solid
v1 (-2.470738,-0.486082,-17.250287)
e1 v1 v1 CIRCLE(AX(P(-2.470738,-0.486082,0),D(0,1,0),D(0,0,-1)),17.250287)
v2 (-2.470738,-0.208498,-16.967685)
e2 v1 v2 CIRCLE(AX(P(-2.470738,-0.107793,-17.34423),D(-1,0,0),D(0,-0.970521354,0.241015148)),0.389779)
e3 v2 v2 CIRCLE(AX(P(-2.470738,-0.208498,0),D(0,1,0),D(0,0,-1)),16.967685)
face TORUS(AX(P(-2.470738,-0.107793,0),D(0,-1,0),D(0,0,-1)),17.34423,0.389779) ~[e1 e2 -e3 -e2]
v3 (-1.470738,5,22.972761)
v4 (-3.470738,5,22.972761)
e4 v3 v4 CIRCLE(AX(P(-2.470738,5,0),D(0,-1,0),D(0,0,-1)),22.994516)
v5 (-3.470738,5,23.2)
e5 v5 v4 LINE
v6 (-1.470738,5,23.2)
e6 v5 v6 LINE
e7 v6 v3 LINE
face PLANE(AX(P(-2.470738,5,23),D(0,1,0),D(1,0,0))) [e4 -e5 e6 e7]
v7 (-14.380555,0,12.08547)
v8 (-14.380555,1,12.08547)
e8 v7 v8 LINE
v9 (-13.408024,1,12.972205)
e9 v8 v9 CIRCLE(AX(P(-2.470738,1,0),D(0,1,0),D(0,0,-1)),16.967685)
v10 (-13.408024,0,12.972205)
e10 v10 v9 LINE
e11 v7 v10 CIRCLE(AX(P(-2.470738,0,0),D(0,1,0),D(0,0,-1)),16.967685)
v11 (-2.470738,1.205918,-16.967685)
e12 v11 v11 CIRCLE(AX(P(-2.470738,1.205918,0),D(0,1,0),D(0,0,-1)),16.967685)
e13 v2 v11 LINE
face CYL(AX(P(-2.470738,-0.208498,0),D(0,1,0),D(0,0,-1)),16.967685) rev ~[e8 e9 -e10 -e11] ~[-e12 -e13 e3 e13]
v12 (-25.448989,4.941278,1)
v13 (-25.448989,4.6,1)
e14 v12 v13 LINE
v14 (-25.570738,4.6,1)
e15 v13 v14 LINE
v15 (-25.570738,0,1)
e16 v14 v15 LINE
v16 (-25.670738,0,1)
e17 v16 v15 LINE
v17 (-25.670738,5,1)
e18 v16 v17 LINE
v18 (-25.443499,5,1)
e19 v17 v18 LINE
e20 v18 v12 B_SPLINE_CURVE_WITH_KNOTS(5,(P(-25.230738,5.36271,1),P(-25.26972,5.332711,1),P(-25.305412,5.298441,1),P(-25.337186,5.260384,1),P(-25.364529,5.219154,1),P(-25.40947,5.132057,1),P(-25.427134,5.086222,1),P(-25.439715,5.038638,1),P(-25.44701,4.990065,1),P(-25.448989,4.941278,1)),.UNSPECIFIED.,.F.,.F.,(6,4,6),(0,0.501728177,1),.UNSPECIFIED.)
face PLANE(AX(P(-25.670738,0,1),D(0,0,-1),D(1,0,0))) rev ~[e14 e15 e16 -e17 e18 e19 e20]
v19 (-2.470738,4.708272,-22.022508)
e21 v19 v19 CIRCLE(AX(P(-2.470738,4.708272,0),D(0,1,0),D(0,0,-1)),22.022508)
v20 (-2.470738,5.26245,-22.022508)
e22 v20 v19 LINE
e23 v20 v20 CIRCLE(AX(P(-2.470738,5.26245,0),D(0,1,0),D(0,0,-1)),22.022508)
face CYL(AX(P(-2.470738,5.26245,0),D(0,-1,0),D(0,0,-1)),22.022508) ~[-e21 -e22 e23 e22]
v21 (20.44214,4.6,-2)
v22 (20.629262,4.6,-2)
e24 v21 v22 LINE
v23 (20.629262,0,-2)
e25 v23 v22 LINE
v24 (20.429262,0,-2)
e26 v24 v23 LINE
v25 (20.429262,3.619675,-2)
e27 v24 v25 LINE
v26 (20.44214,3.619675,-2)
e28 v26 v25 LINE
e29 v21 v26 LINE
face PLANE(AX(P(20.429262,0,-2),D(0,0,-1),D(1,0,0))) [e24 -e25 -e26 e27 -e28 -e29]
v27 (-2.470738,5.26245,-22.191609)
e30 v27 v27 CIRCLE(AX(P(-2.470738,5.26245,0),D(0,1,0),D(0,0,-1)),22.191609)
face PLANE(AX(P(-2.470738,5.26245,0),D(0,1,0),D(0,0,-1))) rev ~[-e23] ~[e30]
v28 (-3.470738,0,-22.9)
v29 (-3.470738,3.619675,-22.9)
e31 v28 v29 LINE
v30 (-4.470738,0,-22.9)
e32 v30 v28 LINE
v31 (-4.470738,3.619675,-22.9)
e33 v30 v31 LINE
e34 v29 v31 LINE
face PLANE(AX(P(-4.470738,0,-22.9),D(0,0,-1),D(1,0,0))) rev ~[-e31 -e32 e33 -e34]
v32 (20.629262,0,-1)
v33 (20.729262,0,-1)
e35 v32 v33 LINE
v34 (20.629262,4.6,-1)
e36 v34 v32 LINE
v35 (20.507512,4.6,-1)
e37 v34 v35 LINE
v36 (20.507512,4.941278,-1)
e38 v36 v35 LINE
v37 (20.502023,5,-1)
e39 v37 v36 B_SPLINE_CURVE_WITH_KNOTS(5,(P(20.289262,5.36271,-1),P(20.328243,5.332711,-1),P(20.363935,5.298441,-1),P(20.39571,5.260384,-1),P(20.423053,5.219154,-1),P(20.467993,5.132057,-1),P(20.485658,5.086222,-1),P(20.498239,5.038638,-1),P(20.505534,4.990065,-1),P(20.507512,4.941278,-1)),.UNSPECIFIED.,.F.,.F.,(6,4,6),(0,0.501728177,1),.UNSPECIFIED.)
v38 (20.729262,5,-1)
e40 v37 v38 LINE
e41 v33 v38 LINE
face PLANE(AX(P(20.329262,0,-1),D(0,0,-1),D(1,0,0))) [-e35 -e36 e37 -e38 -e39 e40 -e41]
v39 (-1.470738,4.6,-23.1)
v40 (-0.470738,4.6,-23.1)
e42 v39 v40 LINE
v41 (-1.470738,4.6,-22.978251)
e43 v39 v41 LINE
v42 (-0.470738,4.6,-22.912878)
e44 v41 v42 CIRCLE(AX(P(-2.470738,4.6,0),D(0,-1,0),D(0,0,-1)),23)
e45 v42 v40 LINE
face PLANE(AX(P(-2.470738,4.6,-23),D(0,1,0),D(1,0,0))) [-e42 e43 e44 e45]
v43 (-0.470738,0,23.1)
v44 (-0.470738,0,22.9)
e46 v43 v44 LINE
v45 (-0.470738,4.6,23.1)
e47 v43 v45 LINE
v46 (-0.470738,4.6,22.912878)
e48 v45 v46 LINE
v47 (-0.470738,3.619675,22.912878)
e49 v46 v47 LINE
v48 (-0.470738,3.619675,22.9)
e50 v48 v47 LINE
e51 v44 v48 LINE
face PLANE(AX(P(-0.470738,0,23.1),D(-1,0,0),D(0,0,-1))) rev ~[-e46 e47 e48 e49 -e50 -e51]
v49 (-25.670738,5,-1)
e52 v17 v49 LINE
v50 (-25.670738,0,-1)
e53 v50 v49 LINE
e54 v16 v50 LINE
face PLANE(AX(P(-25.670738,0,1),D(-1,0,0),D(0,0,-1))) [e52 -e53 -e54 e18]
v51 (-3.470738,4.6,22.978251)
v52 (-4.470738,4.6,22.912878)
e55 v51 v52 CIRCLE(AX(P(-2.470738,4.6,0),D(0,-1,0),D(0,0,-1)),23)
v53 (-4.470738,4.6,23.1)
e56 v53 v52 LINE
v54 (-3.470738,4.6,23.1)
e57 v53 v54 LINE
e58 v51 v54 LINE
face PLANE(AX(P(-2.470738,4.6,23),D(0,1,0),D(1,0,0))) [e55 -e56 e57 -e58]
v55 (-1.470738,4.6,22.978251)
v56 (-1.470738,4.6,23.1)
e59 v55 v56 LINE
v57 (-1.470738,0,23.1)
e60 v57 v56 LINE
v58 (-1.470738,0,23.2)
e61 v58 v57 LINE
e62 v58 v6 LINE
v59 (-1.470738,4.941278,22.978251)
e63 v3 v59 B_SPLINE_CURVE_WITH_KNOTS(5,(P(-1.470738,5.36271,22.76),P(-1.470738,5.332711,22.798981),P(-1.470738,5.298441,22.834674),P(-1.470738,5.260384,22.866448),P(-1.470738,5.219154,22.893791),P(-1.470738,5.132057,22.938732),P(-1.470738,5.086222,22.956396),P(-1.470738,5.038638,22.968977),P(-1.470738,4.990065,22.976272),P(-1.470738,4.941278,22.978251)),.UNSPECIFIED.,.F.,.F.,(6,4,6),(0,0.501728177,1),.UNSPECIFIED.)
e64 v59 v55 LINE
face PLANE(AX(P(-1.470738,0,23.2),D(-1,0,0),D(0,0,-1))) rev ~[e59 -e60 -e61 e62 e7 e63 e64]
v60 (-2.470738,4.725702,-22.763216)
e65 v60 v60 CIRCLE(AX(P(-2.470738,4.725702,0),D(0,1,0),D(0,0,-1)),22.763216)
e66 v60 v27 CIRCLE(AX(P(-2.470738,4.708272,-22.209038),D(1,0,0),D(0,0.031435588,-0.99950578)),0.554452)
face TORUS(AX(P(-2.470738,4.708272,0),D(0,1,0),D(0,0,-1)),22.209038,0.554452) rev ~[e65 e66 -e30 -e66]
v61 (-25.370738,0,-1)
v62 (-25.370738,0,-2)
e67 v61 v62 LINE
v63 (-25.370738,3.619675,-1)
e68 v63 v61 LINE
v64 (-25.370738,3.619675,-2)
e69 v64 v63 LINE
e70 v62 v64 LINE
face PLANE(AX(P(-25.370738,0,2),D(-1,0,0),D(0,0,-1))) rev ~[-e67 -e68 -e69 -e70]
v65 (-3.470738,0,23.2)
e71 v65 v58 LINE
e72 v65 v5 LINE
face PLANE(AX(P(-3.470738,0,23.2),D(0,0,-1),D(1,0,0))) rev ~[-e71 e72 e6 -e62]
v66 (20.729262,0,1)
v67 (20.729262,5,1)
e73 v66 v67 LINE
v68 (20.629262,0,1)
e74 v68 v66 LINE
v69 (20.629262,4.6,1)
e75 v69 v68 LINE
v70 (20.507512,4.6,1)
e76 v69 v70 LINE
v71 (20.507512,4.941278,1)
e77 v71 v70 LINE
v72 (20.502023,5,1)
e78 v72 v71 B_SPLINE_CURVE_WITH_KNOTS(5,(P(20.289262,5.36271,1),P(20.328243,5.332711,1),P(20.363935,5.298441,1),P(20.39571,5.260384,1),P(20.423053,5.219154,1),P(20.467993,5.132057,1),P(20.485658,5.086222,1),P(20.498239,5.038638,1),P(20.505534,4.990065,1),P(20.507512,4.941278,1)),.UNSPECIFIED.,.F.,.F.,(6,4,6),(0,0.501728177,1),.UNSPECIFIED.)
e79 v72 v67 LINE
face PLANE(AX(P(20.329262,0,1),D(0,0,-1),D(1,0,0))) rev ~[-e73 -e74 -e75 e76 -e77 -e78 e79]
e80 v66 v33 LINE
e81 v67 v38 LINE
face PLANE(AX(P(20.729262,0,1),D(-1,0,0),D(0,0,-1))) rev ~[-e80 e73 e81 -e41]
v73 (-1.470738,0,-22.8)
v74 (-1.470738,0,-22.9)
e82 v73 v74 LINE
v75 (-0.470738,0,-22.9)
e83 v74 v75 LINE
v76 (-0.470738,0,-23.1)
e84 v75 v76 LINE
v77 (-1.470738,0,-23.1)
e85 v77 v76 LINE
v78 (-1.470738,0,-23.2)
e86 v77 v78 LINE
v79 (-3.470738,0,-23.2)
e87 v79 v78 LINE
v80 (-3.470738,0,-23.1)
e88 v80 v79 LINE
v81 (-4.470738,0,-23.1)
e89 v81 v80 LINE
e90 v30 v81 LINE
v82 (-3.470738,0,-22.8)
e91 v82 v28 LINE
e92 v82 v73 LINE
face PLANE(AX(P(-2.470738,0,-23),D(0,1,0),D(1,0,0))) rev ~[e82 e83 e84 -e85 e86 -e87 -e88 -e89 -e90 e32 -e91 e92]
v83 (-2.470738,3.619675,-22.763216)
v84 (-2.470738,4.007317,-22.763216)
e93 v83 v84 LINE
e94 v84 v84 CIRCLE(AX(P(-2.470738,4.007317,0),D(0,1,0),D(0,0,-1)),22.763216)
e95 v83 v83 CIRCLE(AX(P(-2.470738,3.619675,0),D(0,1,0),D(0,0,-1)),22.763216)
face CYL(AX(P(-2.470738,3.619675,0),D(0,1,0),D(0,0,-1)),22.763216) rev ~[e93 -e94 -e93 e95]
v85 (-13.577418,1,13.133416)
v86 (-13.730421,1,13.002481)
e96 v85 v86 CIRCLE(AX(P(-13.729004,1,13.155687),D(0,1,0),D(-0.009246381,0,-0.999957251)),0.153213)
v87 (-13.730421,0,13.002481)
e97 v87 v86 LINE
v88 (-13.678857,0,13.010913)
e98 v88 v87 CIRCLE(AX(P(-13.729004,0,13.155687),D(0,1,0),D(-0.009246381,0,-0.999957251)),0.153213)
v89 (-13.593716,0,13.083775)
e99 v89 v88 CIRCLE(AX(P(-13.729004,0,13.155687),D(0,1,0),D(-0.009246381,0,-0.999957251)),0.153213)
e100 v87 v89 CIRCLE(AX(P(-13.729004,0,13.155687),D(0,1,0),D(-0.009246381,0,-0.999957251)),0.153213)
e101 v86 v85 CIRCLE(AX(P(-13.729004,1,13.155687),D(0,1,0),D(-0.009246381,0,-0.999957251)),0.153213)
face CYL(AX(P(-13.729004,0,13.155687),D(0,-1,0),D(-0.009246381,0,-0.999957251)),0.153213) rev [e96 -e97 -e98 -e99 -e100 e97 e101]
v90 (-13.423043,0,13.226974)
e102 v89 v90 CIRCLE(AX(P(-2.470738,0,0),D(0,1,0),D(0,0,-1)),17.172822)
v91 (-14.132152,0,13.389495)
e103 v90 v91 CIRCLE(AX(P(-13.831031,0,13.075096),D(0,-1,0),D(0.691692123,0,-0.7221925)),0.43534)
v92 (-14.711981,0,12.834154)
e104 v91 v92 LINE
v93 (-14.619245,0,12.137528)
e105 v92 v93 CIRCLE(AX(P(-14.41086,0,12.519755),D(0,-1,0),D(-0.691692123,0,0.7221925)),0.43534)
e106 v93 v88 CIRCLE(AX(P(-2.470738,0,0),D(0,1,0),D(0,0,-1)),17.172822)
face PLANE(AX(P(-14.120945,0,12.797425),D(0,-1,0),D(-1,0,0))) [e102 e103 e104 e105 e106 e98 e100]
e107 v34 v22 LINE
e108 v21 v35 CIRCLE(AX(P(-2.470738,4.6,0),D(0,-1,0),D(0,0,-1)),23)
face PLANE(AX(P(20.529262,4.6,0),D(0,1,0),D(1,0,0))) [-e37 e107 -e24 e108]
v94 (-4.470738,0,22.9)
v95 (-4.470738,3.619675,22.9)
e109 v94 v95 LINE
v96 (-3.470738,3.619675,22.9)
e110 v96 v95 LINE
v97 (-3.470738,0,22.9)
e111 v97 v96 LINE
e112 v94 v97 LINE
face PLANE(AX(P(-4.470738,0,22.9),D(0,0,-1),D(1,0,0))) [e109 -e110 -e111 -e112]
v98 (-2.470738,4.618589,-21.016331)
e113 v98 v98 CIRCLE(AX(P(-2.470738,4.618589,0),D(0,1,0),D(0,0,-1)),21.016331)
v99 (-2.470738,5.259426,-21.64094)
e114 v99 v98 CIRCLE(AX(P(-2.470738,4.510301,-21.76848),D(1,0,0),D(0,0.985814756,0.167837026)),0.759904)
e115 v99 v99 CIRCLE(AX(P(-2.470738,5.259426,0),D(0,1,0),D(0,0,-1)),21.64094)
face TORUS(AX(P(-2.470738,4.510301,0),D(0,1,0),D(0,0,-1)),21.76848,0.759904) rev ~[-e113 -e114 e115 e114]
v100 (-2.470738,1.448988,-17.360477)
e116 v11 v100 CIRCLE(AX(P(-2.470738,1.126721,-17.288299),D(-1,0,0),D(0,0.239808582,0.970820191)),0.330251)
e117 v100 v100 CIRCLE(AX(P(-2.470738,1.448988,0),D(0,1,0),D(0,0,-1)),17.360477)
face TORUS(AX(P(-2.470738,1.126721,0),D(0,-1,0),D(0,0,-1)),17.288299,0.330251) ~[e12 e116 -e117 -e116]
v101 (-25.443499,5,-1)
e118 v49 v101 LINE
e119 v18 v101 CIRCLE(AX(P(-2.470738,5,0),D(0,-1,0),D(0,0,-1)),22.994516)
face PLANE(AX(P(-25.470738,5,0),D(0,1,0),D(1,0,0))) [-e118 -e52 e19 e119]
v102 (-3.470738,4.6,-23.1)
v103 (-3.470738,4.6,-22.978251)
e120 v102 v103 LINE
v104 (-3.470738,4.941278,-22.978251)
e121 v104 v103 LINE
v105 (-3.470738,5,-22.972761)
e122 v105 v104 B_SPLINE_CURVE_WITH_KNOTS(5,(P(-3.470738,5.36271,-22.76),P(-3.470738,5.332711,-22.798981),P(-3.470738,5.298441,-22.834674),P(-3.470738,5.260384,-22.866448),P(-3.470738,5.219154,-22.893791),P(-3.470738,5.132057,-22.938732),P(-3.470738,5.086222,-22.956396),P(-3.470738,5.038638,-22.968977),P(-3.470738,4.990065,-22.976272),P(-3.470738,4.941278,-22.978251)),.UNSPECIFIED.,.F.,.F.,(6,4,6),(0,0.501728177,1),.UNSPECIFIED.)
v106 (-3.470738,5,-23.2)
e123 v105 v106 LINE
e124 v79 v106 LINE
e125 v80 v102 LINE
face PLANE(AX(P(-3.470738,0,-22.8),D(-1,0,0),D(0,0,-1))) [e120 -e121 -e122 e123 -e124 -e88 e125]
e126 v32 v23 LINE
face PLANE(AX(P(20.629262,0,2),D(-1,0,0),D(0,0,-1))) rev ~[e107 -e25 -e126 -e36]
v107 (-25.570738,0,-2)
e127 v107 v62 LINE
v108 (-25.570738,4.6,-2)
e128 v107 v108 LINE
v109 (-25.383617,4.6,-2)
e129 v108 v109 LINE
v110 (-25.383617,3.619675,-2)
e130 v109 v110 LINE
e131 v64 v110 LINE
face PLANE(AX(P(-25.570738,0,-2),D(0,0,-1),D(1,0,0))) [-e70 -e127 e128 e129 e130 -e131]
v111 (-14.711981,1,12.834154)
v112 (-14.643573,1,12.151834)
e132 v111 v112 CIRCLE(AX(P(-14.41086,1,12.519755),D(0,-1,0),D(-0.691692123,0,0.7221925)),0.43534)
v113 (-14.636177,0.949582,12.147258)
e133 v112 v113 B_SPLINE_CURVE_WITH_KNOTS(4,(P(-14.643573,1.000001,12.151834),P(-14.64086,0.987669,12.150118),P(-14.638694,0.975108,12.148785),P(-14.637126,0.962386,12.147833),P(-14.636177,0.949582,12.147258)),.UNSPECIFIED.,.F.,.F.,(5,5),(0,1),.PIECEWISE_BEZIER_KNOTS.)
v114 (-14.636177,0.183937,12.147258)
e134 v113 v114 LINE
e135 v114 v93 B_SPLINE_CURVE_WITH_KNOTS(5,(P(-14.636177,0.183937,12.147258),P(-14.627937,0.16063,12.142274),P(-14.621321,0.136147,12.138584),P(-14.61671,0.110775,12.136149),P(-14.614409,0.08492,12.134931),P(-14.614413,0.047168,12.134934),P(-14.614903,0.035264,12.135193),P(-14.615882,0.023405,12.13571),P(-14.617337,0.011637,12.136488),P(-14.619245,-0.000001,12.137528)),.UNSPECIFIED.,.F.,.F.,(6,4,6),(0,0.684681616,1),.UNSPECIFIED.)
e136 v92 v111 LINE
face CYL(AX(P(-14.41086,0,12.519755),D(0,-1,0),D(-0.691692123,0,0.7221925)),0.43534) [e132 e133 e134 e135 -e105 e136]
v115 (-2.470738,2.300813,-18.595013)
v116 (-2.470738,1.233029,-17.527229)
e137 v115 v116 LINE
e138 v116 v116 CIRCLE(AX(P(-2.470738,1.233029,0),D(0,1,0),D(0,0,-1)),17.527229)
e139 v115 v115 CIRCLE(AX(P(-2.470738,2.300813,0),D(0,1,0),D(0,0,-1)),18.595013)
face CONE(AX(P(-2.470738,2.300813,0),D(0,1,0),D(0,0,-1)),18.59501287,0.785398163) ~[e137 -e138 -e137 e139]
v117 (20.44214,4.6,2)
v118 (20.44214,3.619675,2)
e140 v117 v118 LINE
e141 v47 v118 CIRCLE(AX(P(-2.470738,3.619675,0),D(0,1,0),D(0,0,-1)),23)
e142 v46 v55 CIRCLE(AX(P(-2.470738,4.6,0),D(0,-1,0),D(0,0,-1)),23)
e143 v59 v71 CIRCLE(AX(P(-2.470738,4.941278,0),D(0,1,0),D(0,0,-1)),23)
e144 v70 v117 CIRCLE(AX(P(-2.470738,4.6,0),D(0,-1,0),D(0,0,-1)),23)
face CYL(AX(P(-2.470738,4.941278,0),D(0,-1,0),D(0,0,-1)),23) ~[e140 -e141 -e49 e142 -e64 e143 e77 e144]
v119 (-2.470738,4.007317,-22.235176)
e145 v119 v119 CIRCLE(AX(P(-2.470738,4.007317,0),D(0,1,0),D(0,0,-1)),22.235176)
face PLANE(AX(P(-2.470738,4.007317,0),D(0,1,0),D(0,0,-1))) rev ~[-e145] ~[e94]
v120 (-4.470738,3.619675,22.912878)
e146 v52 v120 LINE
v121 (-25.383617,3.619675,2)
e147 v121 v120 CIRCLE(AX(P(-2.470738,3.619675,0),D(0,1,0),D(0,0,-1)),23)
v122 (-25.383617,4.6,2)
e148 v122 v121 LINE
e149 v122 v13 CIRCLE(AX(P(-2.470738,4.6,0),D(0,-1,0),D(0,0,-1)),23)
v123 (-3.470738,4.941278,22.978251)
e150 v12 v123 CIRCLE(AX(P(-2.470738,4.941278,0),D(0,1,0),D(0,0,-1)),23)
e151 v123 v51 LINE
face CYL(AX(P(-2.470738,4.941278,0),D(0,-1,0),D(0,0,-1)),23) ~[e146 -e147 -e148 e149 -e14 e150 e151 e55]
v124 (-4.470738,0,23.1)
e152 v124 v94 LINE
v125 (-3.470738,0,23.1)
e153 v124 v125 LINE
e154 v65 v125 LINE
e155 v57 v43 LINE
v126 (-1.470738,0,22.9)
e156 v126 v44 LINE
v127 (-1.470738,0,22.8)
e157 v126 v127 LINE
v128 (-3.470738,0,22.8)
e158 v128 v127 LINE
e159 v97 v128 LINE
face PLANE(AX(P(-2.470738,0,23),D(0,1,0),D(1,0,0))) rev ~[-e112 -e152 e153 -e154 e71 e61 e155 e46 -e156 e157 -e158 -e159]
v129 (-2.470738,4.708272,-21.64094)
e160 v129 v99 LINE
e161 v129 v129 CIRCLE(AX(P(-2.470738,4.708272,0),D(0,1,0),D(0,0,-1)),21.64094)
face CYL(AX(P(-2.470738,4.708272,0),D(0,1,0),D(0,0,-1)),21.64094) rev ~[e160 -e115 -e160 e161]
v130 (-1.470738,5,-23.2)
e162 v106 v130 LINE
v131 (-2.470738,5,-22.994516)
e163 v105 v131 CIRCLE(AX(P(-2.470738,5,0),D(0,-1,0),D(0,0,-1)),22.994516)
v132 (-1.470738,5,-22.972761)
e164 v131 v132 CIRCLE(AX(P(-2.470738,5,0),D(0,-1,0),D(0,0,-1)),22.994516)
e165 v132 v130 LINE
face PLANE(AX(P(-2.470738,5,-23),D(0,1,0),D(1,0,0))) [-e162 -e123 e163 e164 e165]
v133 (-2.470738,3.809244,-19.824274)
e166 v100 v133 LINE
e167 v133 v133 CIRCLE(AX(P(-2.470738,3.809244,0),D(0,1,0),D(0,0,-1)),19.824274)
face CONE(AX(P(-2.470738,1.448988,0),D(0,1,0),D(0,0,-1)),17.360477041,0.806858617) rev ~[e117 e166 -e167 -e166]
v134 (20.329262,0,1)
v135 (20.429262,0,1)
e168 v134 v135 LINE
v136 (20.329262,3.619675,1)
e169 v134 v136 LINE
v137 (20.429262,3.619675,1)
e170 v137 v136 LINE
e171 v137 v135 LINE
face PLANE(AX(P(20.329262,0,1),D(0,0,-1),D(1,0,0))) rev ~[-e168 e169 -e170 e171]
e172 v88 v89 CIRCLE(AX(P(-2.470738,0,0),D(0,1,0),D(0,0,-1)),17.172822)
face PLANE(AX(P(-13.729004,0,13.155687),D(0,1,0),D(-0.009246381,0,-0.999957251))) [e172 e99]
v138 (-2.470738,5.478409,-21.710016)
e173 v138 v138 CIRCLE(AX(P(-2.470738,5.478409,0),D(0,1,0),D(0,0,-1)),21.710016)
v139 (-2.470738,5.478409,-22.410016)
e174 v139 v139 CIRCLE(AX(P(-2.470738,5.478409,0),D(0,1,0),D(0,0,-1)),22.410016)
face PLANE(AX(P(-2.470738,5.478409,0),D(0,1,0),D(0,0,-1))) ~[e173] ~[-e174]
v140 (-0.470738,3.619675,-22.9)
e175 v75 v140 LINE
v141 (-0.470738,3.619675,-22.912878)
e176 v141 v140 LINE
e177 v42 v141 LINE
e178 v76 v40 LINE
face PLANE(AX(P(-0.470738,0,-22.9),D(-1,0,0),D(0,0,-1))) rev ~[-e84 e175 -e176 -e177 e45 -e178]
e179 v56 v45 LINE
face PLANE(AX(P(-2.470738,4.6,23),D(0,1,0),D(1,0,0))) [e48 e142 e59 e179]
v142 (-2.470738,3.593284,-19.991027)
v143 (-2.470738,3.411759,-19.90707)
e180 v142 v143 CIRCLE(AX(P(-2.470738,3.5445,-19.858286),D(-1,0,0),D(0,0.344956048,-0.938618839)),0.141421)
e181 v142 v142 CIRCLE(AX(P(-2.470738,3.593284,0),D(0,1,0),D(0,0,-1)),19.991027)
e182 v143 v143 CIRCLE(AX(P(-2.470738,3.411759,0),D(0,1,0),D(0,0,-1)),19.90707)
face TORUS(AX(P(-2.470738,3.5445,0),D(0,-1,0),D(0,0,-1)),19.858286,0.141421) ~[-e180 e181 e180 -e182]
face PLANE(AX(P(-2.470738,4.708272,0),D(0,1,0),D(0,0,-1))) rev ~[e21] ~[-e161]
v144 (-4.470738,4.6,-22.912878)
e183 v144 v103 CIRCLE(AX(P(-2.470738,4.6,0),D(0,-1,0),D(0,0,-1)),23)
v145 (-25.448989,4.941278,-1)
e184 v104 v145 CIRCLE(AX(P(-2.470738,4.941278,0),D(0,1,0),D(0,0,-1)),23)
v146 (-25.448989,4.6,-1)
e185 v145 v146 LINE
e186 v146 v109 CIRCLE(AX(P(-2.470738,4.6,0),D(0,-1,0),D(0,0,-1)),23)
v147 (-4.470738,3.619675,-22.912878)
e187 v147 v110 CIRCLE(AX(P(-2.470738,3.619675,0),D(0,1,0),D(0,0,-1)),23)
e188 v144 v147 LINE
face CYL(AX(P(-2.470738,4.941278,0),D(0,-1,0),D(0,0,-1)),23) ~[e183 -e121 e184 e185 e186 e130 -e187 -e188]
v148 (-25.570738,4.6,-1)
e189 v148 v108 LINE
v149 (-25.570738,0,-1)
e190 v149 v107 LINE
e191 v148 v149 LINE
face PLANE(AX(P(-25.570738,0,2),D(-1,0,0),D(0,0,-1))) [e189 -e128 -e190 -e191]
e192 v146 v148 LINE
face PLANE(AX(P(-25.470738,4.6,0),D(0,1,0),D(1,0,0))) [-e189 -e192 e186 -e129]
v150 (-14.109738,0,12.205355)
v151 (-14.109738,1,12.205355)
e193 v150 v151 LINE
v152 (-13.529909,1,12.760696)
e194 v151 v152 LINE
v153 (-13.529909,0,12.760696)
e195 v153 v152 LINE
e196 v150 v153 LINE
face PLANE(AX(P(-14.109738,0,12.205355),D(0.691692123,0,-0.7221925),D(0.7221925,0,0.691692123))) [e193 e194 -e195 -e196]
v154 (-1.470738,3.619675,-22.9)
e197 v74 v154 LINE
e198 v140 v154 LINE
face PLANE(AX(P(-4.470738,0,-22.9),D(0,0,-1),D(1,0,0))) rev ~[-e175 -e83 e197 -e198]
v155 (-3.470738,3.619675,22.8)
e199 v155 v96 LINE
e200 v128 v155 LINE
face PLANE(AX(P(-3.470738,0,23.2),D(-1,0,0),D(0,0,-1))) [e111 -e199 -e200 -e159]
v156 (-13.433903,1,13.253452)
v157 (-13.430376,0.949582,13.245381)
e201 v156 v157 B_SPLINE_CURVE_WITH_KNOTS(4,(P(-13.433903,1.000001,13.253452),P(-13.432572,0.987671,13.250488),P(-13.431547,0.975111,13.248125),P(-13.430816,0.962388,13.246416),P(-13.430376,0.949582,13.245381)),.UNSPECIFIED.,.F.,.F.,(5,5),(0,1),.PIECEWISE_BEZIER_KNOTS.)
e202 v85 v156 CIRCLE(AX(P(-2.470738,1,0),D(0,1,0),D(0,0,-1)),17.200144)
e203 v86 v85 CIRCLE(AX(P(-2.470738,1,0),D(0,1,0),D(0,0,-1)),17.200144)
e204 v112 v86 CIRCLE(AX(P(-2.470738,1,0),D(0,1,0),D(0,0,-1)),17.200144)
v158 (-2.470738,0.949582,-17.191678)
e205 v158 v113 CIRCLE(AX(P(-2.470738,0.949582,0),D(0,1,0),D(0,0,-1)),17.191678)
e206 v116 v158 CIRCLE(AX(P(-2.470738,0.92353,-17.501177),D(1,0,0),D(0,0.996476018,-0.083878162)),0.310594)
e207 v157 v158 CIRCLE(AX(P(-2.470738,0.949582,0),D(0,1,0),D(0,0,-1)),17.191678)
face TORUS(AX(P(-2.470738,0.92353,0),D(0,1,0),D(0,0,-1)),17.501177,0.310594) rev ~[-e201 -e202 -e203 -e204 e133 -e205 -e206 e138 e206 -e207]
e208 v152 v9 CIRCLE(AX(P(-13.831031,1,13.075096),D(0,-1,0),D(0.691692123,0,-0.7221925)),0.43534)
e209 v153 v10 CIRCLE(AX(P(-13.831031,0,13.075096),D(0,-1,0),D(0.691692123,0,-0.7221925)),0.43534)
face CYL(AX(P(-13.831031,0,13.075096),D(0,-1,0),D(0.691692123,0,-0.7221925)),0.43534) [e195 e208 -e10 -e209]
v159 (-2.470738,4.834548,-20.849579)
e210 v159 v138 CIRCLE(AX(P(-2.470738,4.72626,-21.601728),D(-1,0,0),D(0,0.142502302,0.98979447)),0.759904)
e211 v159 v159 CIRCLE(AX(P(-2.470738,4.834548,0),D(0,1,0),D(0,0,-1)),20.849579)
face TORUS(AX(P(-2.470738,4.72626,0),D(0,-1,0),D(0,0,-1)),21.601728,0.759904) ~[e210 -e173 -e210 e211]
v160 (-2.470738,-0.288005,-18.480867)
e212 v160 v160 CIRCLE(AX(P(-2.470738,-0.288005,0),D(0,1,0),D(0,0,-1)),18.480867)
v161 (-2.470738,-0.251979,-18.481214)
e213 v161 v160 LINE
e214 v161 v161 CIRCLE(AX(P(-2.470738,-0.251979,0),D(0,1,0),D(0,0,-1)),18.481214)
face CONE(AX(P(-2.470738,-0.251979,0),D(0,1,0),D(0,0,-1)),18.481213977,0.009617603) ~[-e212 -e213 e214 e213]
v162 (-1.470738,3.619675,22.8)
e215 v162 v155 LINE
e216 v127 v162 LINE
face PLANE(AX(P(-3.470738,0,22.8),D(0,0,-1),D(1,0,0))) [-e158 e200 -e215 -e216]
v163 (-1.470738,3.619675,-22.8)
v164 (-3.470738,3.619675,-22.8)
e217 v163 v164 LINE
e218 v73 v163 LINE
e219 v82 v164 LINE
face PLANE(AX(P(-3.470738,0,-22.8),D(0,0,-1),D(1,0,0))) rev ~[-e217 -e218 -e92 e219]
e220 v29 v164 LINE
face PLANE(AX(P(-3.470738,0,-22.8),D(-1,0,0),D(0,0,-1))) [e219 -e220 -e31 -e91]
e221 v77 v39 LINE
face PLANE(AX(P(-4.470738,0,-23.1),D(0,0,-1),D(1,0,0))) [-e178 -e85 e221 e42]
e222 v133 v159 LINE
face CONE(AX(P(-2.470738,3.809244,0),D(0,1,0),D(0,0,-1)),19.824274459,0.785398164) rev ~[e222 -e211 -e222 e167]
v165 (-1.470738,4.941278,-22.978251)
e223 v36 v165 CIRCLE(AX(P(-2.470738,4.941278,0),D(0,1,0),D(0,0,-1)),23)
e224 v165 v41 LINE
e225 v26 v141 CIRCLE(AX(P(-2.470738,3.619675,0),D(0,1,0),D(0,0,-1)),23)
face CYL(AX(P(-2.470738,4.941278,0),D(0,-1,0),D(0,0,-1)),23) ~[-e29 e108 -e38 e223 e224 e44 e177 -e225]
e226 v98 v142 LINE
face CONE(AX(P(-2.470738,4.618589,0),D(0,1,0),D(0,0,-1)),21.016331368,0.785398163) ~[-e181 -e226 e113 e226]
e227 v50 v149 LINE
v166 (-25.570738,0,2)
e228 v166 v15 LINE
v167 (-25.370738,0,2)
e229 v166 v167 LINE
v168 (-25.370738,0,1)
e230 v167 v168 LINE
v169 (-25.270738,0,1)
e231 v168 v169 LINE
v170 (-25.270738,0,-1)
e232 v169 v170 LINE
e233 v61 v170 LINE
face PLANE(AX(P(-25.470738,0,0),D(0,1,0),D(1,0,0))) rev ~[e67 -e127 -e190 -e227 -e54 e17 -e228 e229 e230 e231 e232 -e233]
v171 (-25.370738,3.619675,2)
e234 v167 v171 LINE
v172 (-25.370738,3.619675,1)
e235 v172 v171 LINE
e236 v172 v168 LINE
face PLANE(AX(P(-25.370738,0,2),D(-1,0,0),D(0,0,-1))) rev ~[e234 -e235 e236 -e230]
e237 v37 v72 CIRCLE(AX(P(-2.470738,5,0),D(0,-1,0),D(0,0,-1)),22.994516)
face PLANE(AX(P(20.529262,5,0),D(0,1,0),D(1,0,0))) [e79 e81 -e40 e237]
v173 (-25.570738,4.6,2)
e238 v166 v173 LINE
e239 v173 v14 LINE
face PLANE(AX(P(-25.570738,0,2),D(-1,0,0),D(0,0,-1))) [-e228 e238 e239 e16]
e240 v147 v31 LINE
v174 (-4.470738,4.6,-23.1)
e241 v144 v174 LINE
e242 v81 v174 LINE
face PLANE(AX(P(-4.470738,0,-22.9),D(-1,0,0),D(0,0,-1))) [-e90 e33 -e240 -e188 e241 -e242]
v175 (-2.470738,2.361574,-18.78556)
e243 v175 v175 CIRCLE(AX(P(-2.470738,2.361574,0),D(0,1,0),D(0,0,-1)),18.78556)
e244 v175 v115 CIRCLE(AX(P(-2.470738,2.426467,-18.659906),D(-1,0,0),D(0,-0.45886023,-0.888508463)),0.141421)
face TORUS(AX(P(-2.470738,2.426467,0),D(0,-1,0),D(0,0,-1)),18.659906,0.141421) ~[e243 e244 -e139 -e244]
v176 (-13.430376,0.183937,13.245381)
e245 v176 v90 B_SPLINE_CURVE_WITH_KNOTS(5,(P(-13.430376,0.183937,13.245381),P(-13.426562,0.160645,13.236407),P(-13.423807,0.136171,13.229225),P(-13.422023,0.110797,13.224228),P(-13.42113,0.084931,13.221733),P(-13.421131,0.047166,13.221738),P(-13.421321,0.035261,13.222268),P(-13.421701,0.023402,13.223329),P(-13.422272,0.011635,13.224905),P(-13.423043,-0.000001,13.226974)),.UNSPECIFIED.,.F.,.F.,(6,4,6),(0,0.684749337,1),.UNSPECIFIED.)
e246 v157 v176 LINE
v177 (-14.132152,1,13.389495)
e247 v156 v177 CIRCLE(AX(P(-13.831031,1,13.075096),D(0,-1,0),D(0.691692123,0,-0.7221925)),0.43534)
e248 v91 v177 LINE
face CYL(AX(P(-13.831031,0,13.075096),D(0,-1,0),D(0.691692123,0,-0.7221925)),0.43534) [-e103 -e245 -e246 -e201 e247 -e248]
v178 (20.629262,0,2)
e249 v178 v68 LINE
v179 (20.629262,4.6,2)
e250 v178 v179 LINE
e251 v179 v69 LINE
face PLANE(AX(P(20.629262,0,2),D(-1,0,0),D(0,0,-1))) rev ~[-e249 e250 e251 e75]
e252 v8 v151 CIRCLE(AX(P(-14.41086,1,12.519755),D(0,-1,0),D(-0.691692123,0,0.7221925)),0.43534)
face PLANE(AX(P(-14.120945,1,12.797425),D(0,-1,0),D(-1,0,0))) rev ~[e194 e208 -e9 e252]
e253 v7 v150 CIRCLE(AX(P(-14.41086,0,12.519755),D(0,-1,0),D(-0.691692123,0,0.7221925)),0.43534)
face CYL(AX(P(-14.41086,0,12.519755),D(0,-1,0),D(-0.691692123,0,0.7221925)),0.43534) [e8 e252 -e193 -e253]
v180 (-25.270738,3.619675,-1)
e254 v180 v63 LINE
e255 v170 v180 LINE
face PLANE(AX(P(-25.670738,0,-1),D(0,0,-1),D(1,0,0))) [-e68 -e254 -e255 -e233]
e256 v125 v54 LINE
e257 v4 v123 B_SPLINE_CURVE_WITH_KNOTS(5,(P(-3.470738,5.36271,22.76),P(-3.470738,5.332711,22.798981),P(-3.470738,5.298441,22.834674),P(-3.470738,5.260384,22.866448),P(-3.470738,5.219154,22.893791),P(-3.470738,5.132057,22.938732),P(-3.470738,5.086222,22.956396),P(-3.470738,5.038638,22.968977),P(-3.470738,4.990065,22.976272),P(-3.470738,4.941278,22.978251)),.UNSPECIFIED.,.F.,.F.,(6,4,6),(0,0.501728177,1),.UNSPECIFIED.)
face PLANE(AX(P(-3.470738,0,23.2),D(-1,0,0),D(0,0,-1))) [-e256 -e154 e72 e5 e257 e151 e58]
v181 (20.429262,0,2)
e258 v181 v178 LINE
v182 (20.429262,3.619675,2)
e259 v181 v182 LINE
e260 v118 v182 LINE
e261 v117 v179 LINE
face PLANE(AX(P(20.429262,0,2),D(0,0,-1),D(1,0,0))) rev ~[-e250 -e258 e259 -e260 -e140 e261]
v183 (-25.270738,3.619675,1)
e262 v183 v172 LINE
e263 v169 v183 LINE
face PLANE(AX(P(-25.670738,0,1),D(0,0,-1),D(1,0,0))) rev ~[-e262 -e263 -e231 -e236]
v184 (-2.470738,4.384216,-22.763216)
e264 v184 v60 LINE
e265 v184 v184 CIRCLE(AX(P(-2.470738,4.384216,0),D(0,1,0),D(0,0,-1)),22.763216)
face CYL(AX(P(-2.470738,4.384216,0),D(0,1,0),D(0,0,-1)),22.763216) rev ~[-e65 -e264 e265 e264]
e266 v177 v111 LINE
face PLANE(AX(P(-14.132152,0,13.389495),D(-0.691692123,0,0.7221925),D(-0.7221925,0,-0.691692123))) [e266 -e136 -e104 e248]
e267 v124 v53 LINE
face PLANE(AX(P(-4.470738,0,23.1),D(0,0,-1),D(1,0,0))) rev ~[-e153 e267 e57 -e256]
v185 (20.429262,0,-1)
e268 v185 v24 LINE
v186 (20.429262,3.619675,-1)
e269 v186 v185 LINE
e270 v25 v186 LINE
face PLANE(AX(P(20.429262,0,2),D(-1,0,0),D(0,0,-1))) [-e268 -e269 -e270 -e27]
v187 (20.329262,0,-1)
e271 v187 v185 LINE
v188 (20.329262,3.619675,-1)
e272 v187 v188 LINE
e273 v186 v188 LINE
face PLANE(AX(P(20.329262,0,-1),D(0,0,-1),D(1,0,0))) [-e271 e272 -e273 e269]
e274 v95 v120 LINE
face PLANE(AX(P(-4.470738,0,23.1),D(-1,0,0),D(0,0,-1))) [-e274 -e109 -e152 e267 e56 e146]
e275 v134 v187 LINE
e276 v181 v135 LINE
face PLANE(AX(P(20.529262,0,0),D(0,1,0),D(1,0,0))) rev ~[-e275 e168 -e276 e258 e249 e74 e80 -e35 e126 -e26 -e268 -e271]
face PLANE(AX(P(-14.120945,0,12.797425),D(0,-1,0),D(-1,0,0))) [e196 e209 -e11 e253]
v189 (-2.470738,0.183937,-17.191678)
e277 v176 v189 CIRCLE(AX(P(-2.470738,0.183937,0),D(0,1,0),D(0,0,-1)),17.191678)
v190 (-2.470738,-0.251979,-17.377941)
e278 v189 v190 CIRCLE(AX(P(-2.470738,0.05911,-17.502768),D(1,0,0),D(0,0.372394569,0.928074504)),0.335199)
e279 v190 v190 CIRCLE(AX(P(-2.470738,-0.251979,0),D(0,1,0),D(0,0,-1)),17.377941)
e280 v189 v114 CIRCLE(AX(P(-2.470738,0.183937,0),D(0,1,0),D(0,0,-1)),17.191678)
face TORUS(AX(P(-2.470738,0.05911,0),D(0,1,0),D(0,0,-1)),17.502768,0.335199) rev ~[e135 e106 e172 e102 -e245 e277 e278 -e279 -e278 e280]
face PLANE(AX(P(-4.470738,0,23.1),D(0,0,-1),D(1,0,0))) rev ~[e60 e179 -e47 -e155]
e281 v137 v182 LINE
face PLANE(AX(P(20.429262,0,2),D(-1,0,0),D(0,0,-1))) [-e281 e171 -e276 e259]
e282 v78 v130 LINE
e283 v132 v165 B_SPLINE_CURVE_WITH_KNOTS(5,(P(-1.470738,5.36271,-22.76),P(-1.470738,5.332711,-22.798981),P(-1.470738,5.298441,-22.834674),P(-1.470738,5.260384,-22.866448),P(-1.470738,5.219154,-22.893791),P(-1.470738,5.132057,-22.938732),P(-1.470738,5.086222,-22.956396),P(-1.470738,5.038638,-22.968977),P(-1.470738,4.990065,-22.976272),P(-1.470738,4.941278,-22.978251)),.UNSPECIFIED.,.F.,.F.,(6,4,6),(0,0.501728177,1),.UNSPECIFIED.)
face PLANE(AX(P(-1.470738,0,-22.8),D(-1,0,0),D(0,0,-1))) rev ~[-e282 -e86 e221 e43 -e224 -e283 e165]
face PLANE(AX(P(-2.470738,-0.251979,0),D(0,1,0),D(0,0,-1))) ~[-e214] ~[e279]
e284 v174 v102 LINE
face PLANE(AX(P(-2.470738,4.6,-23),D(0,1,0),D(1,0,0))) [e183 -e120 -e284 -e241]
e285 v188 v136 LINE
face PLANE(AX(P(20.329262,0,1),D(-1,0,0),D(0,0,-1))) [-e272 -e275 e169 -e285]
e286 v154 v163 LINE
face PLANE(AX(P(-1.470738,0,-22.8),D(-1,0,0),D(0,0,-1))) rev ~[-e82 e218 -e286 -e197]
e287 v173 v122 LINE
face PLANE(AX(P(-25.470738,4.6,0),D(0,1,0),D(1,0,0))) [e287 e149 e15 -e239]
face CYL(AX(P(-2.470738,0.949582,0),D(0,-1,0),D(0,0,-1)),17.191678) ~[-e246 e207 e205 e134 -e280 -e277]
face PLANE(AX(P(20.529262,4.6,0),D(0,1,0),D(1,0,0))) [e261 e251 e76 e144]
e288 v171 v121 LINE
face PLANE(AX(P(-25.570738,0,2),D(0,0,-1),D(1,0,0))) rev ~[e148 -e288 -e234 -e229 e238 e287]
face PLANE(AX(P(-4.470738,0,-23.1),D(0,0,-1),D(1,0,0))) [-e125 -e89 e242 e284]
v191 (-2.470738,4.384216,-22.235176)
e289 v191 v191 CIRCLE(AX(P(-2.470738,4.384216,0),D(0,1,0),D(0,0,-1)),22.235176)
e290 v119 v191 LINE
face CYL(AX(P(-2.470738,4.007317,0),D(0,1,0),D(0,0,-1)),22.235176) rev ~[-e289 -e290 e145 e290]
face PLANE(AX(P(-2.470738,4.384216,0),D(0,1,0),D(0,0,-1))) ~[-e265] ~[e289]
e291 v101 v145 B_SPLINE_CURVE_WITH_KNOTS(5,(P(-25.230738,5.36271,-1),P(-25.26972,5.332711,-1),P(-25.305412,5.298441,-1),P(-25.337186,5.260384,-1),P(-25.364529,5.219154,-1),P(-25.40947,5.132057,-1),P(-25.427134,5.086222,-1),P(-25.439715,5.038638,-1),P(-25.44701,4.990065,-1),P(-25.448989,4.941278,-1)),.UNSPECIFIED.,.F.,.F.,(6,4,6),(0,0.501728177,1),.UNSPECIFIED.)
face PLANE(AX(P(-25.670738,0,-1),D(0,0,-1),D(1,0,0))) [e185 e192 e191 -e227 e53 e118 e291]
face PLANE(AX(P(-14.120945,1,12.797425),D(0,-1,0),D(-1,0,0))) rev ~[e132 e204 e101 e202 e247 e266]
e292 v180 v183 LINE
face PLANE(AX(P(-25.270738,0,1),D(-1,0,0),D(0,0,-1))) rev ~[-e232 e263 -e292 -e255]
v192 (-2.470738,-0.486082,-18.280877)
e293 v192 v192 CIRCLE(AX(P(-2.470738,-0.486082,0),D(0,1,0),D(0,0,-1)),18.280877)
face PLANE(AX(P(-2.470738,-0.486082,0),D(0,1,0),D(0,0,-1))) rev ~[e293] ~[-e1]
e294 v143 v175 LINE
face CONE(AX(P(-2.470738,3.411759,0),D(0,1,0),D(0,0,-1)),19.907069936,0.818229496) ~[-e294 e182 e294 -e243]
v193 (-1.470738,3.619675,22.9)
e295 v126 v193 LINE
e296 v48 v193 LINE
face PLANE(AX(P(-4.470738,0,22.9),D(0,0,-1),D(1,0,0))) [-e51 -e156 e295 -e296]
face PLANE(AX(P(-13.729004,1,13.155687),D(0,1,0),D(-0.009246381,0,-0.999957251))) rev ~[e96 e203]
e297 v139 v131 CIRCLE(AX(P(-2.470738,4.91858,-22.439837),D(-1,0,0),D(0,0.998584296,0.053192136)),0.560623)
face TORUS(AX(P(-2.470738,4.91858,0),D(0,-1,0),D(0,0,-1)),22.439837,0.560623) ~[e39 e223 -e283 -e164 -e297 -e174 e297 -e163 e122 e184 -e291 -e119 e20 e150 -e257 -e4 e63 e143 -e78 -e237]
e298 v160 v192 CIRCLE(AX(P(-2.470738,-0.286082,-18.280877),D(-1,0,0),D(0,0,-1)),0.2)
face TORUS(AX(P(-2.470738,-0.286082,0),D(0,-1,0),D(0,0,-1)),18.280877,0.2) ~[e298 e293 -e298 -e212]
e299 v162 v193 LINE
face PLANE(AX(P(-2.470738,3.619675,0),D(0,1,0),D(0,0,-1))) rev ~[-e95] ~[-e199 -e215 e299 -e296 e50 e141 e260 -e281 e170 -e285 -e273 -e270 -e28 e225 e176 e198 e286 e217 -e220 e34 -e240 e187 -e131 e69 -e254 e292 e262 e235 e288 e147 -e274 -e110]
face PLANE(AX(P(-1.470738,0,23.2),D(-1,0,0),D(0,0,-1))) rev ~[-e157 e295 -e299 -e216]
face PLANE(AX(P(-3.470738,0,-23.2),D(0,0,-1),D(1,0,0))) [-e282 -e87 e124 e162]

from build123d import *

# Parameters (mm, degrees)
FILLET2_R           = 0.2
BOSS_EXTRUDE1_DEPTH = 1
SKETCH4_R           = 0.153213077
CUT_EXTRUDE1_DEPTH  = 1
SKETCH6_W           = 0.2
SKETCH6_H           = 4
SKETCH6_W_2         = 4
SKETCH6_H_2         = 0.2
BOSS_EXTRUDE3_DEPTH = 4.6
SKETCH5_W           = 0.4
SKETCH5_H           = 2
SKETCH5_W_2         = 2
SKETCH5_H_2         = 0.4
BOSS_EXTRUDE2_DEPTH = 5


with BuildPart() as part:
    # Sketch1 → Revolve1 (revolve)
    with BuildSketch(Plane.XY, mode=Mode.PRIVATE) as revolve1_sk:
        with BuildLine():
            Line((-25.233953941, 4.384216192), (-25.233953941, 4.725701731))
            ThreePointArc((-25.233953941, 4.725701731), (-25.059314561, 5.112459467), (-24.662346854, 5.262449795))
            Line((-24.662346854, 5.262449795), (-24.493245747, 5.262449795))
            Line((-24.493245747, 5.262449795), (-24.493245747, 4.70827222))
            Line((-24.493245747, 4.70827222), (-24.111678282, 4.70827222))
            Line((-24.111678282, 4.70827222), (-24.111678282, 5.259425594))
            ThreePointArc((-24.111678282, 5.259425594), (-23.69503915, 5.040700049), (-23.48706953, 4.618589084))
            Line((-23.48706953, 4.618589084), (-22.461764697, 3.593284251))
            ThreePointArc((-22.461764697, 3.593284251), (-22.457381436, 3.48513382), (-22.377808098, 3.411759351))
            Line((-22.377808098, 3.411759351), (-21.256297739, 2.361574277))
            ThreePointArc((-21.256297739, 2.361574277), (-21.173608491, 2.291730044), (-21.065751032, 2.300812841))
            Line((-21.065751032, 2.300812841), (-19.997967278, 1.233029087))
            ThreePointArc((-19.997967278, 1.233029087), (-19.771487823, 1.160800435), (-19.662416034, 0.949581906))
            Line((-19.662416034, 0.949581906), (-19.662416034, 0.183936837))
            ThreePointArc((-19.662416034, 0.183936837), (-19.665266569, -0.072597654), (-19.848679479, -0.251979299))
            Line((-19.848679479, -0.251979299), (-20.951952139, -0.251979299))
            Line((-20.951952139, -0.251979299), (-20.949700564, -0.486081866))
            Line((-20.949700564, -0.486081866), (-19.72102527, -0.486081866))
            ThreePointArc((-19.72102527, -0.486081866), (-19.541832723, -0.38586655), (-19.438422729, -0.208498425))
            Line((-19.438422729, -0.208498425), (-19.438422729, 1.205918216))
            ThreePointArc((-19.438422729, 1.205918216), (-19.585253007, 1.407550081), (-19.831215203, 1.448988446))
            Line((-19.831215203, 1.448988446), (-22.295012621, 3.80924361))
            Line((-22.295012621, 3.80924361), (-23.320317454, 4.834548442))
            ThreePointArc((-23.320317454, 4.834548442), (-23.61718796, 5.334681104), (-24.180754305, 5.478409153))
            Line((-24.180754305, 5.478409153), (-24.880754305, 5.478409153))
            ThreePointArc((-24.880754305, 5.478409153), (-25.287991721, 5.333133477), (-25.470738162, 4.941277543))
            Line((-25.470738162, 4.941277543), (-25.470738162, 3.619675417))
            Line((-25.470738162, 3.619675417), (-25.233953941, 3.619675417))
            Line((-25.233953941, 3.619675417), (-25.233953941, 4.007317266))
            Line((-25.233953941, 4.007317266), (-24.705913954, 4.007317266))
            Line((-24.705913954, 4.007317266), (-24.705913954, 4.384216192))
            Line((-24.705913954, 4.384216192), (-25.233953941, 4.384216192))
        make_face()
    revolve(revolve1_sk.sketch.rotate(Axis((-2.470738162, -0.486081866, 0), (0, 1, 0)), 270), axis=Axis((-2.470738162, -0.486081866, 0), (0, 1, 0)))

    # Fillet2
    fillet2_edges = [part.edges().sort_by_distance(p)[0] for p in [
        (-2.470738162, -0.486081866, 18.478962402),
    ]]
    fillet(fillet2_edges, radius=FILLET2_R)

    # Sketch2 → Boss-Extrude1 (add)
    with BuildSketch(Plane(origin=(-0.871812988, 0, -0.324348396), x_dir=(1, 0, 0), z_dir=(0, 1, 0))):
        with BuildLine():
            Line((-13.237925173, -12.529703489), (-12.658096263, -13.085044468))
            ThreePointArc((-12.658096263, -13.085044468), (-12.644818214, -13.70056567), (-13.260339417, -13.713843719))
            Line((-13.260339417, -13.713843719), (-13.840168327, -13.15850274))
            ThreePointArc((-13.840168327, -13.15850274), (-13.853446375, -12.542981537), (-13.237925173, -12.529703489))
        make_face()
    extrude(amount=BOSS_EXTRUDE1_DEPTH)

    # Sketch4 → Cut-Extrude1 (cut)
    with BuildSketch(Plane(origin=(0, 0, 0), x_dir=(1, 0, 0), z_dir=(0, 1, 0))):
        with Locations(Location((-13.729004141, -13.155687354, 0), (0, 0, 90.529786154))):
            Circle(SKETCH4_R)
        with Locations((-13.056104047, -13.837868828)):
            Circle(SKETCH4_R)
    extrude(amount=CUT_EXTRUDE1_DEPTH, mode=Mode.SUBTRACT)

    # Sketch6 → Boss-Extrude3 (add)
    with BuildSketch(Plane(origin=(0, 0, 0), x_dir=(1, 0, 0), z_dir=(0, 1, 0))):
        with Locations((20.529261838, 0)):
            Rectangle(SKETCH6_W, SKETCH6_H)
        with Locations((-25.470738162, 0)):
            Rectangle(SKETCH6_W, SKETCH6_H)
        with Locations((-2.470738162, 23)):
            Rectangle(SKETCH6_W_2, SKETCH6_H_2)
        with Locations((-2.470738162, -23)):
            Rectangle(SKETCH6_W_2, SKETCH6_H_2)
    extrude(amount=BOSS_EXTRUDE3_DEPTH)

    # Sketch5 → Boss-Extrude2 (add)
    with BuildSketch(Plane(origin=(0, 0, 0), x_dir=(1, 0, 0), z_dir=(0, 1, 0))):
        with Locations((-25.470738162, 0)):
            Rectangle(SKETCH5_W, SKETCH5_H)
        with Locations((-2.470738162, -23)):
            Rectangle(SKETCH5_W_2, SKETCH5_H_2)
        with Locations((20.529261838, 0)):
            Rectangle(SKETCH5_W, SKETCH5_H)
        with Locations((-2.470738162, 23)):
            Rectangle(SKETCH5_W_2, SKETCH5_H_2)
    extrude(amount=BOSS_EXTRUDE2_DEPTH)


solid = part.part
